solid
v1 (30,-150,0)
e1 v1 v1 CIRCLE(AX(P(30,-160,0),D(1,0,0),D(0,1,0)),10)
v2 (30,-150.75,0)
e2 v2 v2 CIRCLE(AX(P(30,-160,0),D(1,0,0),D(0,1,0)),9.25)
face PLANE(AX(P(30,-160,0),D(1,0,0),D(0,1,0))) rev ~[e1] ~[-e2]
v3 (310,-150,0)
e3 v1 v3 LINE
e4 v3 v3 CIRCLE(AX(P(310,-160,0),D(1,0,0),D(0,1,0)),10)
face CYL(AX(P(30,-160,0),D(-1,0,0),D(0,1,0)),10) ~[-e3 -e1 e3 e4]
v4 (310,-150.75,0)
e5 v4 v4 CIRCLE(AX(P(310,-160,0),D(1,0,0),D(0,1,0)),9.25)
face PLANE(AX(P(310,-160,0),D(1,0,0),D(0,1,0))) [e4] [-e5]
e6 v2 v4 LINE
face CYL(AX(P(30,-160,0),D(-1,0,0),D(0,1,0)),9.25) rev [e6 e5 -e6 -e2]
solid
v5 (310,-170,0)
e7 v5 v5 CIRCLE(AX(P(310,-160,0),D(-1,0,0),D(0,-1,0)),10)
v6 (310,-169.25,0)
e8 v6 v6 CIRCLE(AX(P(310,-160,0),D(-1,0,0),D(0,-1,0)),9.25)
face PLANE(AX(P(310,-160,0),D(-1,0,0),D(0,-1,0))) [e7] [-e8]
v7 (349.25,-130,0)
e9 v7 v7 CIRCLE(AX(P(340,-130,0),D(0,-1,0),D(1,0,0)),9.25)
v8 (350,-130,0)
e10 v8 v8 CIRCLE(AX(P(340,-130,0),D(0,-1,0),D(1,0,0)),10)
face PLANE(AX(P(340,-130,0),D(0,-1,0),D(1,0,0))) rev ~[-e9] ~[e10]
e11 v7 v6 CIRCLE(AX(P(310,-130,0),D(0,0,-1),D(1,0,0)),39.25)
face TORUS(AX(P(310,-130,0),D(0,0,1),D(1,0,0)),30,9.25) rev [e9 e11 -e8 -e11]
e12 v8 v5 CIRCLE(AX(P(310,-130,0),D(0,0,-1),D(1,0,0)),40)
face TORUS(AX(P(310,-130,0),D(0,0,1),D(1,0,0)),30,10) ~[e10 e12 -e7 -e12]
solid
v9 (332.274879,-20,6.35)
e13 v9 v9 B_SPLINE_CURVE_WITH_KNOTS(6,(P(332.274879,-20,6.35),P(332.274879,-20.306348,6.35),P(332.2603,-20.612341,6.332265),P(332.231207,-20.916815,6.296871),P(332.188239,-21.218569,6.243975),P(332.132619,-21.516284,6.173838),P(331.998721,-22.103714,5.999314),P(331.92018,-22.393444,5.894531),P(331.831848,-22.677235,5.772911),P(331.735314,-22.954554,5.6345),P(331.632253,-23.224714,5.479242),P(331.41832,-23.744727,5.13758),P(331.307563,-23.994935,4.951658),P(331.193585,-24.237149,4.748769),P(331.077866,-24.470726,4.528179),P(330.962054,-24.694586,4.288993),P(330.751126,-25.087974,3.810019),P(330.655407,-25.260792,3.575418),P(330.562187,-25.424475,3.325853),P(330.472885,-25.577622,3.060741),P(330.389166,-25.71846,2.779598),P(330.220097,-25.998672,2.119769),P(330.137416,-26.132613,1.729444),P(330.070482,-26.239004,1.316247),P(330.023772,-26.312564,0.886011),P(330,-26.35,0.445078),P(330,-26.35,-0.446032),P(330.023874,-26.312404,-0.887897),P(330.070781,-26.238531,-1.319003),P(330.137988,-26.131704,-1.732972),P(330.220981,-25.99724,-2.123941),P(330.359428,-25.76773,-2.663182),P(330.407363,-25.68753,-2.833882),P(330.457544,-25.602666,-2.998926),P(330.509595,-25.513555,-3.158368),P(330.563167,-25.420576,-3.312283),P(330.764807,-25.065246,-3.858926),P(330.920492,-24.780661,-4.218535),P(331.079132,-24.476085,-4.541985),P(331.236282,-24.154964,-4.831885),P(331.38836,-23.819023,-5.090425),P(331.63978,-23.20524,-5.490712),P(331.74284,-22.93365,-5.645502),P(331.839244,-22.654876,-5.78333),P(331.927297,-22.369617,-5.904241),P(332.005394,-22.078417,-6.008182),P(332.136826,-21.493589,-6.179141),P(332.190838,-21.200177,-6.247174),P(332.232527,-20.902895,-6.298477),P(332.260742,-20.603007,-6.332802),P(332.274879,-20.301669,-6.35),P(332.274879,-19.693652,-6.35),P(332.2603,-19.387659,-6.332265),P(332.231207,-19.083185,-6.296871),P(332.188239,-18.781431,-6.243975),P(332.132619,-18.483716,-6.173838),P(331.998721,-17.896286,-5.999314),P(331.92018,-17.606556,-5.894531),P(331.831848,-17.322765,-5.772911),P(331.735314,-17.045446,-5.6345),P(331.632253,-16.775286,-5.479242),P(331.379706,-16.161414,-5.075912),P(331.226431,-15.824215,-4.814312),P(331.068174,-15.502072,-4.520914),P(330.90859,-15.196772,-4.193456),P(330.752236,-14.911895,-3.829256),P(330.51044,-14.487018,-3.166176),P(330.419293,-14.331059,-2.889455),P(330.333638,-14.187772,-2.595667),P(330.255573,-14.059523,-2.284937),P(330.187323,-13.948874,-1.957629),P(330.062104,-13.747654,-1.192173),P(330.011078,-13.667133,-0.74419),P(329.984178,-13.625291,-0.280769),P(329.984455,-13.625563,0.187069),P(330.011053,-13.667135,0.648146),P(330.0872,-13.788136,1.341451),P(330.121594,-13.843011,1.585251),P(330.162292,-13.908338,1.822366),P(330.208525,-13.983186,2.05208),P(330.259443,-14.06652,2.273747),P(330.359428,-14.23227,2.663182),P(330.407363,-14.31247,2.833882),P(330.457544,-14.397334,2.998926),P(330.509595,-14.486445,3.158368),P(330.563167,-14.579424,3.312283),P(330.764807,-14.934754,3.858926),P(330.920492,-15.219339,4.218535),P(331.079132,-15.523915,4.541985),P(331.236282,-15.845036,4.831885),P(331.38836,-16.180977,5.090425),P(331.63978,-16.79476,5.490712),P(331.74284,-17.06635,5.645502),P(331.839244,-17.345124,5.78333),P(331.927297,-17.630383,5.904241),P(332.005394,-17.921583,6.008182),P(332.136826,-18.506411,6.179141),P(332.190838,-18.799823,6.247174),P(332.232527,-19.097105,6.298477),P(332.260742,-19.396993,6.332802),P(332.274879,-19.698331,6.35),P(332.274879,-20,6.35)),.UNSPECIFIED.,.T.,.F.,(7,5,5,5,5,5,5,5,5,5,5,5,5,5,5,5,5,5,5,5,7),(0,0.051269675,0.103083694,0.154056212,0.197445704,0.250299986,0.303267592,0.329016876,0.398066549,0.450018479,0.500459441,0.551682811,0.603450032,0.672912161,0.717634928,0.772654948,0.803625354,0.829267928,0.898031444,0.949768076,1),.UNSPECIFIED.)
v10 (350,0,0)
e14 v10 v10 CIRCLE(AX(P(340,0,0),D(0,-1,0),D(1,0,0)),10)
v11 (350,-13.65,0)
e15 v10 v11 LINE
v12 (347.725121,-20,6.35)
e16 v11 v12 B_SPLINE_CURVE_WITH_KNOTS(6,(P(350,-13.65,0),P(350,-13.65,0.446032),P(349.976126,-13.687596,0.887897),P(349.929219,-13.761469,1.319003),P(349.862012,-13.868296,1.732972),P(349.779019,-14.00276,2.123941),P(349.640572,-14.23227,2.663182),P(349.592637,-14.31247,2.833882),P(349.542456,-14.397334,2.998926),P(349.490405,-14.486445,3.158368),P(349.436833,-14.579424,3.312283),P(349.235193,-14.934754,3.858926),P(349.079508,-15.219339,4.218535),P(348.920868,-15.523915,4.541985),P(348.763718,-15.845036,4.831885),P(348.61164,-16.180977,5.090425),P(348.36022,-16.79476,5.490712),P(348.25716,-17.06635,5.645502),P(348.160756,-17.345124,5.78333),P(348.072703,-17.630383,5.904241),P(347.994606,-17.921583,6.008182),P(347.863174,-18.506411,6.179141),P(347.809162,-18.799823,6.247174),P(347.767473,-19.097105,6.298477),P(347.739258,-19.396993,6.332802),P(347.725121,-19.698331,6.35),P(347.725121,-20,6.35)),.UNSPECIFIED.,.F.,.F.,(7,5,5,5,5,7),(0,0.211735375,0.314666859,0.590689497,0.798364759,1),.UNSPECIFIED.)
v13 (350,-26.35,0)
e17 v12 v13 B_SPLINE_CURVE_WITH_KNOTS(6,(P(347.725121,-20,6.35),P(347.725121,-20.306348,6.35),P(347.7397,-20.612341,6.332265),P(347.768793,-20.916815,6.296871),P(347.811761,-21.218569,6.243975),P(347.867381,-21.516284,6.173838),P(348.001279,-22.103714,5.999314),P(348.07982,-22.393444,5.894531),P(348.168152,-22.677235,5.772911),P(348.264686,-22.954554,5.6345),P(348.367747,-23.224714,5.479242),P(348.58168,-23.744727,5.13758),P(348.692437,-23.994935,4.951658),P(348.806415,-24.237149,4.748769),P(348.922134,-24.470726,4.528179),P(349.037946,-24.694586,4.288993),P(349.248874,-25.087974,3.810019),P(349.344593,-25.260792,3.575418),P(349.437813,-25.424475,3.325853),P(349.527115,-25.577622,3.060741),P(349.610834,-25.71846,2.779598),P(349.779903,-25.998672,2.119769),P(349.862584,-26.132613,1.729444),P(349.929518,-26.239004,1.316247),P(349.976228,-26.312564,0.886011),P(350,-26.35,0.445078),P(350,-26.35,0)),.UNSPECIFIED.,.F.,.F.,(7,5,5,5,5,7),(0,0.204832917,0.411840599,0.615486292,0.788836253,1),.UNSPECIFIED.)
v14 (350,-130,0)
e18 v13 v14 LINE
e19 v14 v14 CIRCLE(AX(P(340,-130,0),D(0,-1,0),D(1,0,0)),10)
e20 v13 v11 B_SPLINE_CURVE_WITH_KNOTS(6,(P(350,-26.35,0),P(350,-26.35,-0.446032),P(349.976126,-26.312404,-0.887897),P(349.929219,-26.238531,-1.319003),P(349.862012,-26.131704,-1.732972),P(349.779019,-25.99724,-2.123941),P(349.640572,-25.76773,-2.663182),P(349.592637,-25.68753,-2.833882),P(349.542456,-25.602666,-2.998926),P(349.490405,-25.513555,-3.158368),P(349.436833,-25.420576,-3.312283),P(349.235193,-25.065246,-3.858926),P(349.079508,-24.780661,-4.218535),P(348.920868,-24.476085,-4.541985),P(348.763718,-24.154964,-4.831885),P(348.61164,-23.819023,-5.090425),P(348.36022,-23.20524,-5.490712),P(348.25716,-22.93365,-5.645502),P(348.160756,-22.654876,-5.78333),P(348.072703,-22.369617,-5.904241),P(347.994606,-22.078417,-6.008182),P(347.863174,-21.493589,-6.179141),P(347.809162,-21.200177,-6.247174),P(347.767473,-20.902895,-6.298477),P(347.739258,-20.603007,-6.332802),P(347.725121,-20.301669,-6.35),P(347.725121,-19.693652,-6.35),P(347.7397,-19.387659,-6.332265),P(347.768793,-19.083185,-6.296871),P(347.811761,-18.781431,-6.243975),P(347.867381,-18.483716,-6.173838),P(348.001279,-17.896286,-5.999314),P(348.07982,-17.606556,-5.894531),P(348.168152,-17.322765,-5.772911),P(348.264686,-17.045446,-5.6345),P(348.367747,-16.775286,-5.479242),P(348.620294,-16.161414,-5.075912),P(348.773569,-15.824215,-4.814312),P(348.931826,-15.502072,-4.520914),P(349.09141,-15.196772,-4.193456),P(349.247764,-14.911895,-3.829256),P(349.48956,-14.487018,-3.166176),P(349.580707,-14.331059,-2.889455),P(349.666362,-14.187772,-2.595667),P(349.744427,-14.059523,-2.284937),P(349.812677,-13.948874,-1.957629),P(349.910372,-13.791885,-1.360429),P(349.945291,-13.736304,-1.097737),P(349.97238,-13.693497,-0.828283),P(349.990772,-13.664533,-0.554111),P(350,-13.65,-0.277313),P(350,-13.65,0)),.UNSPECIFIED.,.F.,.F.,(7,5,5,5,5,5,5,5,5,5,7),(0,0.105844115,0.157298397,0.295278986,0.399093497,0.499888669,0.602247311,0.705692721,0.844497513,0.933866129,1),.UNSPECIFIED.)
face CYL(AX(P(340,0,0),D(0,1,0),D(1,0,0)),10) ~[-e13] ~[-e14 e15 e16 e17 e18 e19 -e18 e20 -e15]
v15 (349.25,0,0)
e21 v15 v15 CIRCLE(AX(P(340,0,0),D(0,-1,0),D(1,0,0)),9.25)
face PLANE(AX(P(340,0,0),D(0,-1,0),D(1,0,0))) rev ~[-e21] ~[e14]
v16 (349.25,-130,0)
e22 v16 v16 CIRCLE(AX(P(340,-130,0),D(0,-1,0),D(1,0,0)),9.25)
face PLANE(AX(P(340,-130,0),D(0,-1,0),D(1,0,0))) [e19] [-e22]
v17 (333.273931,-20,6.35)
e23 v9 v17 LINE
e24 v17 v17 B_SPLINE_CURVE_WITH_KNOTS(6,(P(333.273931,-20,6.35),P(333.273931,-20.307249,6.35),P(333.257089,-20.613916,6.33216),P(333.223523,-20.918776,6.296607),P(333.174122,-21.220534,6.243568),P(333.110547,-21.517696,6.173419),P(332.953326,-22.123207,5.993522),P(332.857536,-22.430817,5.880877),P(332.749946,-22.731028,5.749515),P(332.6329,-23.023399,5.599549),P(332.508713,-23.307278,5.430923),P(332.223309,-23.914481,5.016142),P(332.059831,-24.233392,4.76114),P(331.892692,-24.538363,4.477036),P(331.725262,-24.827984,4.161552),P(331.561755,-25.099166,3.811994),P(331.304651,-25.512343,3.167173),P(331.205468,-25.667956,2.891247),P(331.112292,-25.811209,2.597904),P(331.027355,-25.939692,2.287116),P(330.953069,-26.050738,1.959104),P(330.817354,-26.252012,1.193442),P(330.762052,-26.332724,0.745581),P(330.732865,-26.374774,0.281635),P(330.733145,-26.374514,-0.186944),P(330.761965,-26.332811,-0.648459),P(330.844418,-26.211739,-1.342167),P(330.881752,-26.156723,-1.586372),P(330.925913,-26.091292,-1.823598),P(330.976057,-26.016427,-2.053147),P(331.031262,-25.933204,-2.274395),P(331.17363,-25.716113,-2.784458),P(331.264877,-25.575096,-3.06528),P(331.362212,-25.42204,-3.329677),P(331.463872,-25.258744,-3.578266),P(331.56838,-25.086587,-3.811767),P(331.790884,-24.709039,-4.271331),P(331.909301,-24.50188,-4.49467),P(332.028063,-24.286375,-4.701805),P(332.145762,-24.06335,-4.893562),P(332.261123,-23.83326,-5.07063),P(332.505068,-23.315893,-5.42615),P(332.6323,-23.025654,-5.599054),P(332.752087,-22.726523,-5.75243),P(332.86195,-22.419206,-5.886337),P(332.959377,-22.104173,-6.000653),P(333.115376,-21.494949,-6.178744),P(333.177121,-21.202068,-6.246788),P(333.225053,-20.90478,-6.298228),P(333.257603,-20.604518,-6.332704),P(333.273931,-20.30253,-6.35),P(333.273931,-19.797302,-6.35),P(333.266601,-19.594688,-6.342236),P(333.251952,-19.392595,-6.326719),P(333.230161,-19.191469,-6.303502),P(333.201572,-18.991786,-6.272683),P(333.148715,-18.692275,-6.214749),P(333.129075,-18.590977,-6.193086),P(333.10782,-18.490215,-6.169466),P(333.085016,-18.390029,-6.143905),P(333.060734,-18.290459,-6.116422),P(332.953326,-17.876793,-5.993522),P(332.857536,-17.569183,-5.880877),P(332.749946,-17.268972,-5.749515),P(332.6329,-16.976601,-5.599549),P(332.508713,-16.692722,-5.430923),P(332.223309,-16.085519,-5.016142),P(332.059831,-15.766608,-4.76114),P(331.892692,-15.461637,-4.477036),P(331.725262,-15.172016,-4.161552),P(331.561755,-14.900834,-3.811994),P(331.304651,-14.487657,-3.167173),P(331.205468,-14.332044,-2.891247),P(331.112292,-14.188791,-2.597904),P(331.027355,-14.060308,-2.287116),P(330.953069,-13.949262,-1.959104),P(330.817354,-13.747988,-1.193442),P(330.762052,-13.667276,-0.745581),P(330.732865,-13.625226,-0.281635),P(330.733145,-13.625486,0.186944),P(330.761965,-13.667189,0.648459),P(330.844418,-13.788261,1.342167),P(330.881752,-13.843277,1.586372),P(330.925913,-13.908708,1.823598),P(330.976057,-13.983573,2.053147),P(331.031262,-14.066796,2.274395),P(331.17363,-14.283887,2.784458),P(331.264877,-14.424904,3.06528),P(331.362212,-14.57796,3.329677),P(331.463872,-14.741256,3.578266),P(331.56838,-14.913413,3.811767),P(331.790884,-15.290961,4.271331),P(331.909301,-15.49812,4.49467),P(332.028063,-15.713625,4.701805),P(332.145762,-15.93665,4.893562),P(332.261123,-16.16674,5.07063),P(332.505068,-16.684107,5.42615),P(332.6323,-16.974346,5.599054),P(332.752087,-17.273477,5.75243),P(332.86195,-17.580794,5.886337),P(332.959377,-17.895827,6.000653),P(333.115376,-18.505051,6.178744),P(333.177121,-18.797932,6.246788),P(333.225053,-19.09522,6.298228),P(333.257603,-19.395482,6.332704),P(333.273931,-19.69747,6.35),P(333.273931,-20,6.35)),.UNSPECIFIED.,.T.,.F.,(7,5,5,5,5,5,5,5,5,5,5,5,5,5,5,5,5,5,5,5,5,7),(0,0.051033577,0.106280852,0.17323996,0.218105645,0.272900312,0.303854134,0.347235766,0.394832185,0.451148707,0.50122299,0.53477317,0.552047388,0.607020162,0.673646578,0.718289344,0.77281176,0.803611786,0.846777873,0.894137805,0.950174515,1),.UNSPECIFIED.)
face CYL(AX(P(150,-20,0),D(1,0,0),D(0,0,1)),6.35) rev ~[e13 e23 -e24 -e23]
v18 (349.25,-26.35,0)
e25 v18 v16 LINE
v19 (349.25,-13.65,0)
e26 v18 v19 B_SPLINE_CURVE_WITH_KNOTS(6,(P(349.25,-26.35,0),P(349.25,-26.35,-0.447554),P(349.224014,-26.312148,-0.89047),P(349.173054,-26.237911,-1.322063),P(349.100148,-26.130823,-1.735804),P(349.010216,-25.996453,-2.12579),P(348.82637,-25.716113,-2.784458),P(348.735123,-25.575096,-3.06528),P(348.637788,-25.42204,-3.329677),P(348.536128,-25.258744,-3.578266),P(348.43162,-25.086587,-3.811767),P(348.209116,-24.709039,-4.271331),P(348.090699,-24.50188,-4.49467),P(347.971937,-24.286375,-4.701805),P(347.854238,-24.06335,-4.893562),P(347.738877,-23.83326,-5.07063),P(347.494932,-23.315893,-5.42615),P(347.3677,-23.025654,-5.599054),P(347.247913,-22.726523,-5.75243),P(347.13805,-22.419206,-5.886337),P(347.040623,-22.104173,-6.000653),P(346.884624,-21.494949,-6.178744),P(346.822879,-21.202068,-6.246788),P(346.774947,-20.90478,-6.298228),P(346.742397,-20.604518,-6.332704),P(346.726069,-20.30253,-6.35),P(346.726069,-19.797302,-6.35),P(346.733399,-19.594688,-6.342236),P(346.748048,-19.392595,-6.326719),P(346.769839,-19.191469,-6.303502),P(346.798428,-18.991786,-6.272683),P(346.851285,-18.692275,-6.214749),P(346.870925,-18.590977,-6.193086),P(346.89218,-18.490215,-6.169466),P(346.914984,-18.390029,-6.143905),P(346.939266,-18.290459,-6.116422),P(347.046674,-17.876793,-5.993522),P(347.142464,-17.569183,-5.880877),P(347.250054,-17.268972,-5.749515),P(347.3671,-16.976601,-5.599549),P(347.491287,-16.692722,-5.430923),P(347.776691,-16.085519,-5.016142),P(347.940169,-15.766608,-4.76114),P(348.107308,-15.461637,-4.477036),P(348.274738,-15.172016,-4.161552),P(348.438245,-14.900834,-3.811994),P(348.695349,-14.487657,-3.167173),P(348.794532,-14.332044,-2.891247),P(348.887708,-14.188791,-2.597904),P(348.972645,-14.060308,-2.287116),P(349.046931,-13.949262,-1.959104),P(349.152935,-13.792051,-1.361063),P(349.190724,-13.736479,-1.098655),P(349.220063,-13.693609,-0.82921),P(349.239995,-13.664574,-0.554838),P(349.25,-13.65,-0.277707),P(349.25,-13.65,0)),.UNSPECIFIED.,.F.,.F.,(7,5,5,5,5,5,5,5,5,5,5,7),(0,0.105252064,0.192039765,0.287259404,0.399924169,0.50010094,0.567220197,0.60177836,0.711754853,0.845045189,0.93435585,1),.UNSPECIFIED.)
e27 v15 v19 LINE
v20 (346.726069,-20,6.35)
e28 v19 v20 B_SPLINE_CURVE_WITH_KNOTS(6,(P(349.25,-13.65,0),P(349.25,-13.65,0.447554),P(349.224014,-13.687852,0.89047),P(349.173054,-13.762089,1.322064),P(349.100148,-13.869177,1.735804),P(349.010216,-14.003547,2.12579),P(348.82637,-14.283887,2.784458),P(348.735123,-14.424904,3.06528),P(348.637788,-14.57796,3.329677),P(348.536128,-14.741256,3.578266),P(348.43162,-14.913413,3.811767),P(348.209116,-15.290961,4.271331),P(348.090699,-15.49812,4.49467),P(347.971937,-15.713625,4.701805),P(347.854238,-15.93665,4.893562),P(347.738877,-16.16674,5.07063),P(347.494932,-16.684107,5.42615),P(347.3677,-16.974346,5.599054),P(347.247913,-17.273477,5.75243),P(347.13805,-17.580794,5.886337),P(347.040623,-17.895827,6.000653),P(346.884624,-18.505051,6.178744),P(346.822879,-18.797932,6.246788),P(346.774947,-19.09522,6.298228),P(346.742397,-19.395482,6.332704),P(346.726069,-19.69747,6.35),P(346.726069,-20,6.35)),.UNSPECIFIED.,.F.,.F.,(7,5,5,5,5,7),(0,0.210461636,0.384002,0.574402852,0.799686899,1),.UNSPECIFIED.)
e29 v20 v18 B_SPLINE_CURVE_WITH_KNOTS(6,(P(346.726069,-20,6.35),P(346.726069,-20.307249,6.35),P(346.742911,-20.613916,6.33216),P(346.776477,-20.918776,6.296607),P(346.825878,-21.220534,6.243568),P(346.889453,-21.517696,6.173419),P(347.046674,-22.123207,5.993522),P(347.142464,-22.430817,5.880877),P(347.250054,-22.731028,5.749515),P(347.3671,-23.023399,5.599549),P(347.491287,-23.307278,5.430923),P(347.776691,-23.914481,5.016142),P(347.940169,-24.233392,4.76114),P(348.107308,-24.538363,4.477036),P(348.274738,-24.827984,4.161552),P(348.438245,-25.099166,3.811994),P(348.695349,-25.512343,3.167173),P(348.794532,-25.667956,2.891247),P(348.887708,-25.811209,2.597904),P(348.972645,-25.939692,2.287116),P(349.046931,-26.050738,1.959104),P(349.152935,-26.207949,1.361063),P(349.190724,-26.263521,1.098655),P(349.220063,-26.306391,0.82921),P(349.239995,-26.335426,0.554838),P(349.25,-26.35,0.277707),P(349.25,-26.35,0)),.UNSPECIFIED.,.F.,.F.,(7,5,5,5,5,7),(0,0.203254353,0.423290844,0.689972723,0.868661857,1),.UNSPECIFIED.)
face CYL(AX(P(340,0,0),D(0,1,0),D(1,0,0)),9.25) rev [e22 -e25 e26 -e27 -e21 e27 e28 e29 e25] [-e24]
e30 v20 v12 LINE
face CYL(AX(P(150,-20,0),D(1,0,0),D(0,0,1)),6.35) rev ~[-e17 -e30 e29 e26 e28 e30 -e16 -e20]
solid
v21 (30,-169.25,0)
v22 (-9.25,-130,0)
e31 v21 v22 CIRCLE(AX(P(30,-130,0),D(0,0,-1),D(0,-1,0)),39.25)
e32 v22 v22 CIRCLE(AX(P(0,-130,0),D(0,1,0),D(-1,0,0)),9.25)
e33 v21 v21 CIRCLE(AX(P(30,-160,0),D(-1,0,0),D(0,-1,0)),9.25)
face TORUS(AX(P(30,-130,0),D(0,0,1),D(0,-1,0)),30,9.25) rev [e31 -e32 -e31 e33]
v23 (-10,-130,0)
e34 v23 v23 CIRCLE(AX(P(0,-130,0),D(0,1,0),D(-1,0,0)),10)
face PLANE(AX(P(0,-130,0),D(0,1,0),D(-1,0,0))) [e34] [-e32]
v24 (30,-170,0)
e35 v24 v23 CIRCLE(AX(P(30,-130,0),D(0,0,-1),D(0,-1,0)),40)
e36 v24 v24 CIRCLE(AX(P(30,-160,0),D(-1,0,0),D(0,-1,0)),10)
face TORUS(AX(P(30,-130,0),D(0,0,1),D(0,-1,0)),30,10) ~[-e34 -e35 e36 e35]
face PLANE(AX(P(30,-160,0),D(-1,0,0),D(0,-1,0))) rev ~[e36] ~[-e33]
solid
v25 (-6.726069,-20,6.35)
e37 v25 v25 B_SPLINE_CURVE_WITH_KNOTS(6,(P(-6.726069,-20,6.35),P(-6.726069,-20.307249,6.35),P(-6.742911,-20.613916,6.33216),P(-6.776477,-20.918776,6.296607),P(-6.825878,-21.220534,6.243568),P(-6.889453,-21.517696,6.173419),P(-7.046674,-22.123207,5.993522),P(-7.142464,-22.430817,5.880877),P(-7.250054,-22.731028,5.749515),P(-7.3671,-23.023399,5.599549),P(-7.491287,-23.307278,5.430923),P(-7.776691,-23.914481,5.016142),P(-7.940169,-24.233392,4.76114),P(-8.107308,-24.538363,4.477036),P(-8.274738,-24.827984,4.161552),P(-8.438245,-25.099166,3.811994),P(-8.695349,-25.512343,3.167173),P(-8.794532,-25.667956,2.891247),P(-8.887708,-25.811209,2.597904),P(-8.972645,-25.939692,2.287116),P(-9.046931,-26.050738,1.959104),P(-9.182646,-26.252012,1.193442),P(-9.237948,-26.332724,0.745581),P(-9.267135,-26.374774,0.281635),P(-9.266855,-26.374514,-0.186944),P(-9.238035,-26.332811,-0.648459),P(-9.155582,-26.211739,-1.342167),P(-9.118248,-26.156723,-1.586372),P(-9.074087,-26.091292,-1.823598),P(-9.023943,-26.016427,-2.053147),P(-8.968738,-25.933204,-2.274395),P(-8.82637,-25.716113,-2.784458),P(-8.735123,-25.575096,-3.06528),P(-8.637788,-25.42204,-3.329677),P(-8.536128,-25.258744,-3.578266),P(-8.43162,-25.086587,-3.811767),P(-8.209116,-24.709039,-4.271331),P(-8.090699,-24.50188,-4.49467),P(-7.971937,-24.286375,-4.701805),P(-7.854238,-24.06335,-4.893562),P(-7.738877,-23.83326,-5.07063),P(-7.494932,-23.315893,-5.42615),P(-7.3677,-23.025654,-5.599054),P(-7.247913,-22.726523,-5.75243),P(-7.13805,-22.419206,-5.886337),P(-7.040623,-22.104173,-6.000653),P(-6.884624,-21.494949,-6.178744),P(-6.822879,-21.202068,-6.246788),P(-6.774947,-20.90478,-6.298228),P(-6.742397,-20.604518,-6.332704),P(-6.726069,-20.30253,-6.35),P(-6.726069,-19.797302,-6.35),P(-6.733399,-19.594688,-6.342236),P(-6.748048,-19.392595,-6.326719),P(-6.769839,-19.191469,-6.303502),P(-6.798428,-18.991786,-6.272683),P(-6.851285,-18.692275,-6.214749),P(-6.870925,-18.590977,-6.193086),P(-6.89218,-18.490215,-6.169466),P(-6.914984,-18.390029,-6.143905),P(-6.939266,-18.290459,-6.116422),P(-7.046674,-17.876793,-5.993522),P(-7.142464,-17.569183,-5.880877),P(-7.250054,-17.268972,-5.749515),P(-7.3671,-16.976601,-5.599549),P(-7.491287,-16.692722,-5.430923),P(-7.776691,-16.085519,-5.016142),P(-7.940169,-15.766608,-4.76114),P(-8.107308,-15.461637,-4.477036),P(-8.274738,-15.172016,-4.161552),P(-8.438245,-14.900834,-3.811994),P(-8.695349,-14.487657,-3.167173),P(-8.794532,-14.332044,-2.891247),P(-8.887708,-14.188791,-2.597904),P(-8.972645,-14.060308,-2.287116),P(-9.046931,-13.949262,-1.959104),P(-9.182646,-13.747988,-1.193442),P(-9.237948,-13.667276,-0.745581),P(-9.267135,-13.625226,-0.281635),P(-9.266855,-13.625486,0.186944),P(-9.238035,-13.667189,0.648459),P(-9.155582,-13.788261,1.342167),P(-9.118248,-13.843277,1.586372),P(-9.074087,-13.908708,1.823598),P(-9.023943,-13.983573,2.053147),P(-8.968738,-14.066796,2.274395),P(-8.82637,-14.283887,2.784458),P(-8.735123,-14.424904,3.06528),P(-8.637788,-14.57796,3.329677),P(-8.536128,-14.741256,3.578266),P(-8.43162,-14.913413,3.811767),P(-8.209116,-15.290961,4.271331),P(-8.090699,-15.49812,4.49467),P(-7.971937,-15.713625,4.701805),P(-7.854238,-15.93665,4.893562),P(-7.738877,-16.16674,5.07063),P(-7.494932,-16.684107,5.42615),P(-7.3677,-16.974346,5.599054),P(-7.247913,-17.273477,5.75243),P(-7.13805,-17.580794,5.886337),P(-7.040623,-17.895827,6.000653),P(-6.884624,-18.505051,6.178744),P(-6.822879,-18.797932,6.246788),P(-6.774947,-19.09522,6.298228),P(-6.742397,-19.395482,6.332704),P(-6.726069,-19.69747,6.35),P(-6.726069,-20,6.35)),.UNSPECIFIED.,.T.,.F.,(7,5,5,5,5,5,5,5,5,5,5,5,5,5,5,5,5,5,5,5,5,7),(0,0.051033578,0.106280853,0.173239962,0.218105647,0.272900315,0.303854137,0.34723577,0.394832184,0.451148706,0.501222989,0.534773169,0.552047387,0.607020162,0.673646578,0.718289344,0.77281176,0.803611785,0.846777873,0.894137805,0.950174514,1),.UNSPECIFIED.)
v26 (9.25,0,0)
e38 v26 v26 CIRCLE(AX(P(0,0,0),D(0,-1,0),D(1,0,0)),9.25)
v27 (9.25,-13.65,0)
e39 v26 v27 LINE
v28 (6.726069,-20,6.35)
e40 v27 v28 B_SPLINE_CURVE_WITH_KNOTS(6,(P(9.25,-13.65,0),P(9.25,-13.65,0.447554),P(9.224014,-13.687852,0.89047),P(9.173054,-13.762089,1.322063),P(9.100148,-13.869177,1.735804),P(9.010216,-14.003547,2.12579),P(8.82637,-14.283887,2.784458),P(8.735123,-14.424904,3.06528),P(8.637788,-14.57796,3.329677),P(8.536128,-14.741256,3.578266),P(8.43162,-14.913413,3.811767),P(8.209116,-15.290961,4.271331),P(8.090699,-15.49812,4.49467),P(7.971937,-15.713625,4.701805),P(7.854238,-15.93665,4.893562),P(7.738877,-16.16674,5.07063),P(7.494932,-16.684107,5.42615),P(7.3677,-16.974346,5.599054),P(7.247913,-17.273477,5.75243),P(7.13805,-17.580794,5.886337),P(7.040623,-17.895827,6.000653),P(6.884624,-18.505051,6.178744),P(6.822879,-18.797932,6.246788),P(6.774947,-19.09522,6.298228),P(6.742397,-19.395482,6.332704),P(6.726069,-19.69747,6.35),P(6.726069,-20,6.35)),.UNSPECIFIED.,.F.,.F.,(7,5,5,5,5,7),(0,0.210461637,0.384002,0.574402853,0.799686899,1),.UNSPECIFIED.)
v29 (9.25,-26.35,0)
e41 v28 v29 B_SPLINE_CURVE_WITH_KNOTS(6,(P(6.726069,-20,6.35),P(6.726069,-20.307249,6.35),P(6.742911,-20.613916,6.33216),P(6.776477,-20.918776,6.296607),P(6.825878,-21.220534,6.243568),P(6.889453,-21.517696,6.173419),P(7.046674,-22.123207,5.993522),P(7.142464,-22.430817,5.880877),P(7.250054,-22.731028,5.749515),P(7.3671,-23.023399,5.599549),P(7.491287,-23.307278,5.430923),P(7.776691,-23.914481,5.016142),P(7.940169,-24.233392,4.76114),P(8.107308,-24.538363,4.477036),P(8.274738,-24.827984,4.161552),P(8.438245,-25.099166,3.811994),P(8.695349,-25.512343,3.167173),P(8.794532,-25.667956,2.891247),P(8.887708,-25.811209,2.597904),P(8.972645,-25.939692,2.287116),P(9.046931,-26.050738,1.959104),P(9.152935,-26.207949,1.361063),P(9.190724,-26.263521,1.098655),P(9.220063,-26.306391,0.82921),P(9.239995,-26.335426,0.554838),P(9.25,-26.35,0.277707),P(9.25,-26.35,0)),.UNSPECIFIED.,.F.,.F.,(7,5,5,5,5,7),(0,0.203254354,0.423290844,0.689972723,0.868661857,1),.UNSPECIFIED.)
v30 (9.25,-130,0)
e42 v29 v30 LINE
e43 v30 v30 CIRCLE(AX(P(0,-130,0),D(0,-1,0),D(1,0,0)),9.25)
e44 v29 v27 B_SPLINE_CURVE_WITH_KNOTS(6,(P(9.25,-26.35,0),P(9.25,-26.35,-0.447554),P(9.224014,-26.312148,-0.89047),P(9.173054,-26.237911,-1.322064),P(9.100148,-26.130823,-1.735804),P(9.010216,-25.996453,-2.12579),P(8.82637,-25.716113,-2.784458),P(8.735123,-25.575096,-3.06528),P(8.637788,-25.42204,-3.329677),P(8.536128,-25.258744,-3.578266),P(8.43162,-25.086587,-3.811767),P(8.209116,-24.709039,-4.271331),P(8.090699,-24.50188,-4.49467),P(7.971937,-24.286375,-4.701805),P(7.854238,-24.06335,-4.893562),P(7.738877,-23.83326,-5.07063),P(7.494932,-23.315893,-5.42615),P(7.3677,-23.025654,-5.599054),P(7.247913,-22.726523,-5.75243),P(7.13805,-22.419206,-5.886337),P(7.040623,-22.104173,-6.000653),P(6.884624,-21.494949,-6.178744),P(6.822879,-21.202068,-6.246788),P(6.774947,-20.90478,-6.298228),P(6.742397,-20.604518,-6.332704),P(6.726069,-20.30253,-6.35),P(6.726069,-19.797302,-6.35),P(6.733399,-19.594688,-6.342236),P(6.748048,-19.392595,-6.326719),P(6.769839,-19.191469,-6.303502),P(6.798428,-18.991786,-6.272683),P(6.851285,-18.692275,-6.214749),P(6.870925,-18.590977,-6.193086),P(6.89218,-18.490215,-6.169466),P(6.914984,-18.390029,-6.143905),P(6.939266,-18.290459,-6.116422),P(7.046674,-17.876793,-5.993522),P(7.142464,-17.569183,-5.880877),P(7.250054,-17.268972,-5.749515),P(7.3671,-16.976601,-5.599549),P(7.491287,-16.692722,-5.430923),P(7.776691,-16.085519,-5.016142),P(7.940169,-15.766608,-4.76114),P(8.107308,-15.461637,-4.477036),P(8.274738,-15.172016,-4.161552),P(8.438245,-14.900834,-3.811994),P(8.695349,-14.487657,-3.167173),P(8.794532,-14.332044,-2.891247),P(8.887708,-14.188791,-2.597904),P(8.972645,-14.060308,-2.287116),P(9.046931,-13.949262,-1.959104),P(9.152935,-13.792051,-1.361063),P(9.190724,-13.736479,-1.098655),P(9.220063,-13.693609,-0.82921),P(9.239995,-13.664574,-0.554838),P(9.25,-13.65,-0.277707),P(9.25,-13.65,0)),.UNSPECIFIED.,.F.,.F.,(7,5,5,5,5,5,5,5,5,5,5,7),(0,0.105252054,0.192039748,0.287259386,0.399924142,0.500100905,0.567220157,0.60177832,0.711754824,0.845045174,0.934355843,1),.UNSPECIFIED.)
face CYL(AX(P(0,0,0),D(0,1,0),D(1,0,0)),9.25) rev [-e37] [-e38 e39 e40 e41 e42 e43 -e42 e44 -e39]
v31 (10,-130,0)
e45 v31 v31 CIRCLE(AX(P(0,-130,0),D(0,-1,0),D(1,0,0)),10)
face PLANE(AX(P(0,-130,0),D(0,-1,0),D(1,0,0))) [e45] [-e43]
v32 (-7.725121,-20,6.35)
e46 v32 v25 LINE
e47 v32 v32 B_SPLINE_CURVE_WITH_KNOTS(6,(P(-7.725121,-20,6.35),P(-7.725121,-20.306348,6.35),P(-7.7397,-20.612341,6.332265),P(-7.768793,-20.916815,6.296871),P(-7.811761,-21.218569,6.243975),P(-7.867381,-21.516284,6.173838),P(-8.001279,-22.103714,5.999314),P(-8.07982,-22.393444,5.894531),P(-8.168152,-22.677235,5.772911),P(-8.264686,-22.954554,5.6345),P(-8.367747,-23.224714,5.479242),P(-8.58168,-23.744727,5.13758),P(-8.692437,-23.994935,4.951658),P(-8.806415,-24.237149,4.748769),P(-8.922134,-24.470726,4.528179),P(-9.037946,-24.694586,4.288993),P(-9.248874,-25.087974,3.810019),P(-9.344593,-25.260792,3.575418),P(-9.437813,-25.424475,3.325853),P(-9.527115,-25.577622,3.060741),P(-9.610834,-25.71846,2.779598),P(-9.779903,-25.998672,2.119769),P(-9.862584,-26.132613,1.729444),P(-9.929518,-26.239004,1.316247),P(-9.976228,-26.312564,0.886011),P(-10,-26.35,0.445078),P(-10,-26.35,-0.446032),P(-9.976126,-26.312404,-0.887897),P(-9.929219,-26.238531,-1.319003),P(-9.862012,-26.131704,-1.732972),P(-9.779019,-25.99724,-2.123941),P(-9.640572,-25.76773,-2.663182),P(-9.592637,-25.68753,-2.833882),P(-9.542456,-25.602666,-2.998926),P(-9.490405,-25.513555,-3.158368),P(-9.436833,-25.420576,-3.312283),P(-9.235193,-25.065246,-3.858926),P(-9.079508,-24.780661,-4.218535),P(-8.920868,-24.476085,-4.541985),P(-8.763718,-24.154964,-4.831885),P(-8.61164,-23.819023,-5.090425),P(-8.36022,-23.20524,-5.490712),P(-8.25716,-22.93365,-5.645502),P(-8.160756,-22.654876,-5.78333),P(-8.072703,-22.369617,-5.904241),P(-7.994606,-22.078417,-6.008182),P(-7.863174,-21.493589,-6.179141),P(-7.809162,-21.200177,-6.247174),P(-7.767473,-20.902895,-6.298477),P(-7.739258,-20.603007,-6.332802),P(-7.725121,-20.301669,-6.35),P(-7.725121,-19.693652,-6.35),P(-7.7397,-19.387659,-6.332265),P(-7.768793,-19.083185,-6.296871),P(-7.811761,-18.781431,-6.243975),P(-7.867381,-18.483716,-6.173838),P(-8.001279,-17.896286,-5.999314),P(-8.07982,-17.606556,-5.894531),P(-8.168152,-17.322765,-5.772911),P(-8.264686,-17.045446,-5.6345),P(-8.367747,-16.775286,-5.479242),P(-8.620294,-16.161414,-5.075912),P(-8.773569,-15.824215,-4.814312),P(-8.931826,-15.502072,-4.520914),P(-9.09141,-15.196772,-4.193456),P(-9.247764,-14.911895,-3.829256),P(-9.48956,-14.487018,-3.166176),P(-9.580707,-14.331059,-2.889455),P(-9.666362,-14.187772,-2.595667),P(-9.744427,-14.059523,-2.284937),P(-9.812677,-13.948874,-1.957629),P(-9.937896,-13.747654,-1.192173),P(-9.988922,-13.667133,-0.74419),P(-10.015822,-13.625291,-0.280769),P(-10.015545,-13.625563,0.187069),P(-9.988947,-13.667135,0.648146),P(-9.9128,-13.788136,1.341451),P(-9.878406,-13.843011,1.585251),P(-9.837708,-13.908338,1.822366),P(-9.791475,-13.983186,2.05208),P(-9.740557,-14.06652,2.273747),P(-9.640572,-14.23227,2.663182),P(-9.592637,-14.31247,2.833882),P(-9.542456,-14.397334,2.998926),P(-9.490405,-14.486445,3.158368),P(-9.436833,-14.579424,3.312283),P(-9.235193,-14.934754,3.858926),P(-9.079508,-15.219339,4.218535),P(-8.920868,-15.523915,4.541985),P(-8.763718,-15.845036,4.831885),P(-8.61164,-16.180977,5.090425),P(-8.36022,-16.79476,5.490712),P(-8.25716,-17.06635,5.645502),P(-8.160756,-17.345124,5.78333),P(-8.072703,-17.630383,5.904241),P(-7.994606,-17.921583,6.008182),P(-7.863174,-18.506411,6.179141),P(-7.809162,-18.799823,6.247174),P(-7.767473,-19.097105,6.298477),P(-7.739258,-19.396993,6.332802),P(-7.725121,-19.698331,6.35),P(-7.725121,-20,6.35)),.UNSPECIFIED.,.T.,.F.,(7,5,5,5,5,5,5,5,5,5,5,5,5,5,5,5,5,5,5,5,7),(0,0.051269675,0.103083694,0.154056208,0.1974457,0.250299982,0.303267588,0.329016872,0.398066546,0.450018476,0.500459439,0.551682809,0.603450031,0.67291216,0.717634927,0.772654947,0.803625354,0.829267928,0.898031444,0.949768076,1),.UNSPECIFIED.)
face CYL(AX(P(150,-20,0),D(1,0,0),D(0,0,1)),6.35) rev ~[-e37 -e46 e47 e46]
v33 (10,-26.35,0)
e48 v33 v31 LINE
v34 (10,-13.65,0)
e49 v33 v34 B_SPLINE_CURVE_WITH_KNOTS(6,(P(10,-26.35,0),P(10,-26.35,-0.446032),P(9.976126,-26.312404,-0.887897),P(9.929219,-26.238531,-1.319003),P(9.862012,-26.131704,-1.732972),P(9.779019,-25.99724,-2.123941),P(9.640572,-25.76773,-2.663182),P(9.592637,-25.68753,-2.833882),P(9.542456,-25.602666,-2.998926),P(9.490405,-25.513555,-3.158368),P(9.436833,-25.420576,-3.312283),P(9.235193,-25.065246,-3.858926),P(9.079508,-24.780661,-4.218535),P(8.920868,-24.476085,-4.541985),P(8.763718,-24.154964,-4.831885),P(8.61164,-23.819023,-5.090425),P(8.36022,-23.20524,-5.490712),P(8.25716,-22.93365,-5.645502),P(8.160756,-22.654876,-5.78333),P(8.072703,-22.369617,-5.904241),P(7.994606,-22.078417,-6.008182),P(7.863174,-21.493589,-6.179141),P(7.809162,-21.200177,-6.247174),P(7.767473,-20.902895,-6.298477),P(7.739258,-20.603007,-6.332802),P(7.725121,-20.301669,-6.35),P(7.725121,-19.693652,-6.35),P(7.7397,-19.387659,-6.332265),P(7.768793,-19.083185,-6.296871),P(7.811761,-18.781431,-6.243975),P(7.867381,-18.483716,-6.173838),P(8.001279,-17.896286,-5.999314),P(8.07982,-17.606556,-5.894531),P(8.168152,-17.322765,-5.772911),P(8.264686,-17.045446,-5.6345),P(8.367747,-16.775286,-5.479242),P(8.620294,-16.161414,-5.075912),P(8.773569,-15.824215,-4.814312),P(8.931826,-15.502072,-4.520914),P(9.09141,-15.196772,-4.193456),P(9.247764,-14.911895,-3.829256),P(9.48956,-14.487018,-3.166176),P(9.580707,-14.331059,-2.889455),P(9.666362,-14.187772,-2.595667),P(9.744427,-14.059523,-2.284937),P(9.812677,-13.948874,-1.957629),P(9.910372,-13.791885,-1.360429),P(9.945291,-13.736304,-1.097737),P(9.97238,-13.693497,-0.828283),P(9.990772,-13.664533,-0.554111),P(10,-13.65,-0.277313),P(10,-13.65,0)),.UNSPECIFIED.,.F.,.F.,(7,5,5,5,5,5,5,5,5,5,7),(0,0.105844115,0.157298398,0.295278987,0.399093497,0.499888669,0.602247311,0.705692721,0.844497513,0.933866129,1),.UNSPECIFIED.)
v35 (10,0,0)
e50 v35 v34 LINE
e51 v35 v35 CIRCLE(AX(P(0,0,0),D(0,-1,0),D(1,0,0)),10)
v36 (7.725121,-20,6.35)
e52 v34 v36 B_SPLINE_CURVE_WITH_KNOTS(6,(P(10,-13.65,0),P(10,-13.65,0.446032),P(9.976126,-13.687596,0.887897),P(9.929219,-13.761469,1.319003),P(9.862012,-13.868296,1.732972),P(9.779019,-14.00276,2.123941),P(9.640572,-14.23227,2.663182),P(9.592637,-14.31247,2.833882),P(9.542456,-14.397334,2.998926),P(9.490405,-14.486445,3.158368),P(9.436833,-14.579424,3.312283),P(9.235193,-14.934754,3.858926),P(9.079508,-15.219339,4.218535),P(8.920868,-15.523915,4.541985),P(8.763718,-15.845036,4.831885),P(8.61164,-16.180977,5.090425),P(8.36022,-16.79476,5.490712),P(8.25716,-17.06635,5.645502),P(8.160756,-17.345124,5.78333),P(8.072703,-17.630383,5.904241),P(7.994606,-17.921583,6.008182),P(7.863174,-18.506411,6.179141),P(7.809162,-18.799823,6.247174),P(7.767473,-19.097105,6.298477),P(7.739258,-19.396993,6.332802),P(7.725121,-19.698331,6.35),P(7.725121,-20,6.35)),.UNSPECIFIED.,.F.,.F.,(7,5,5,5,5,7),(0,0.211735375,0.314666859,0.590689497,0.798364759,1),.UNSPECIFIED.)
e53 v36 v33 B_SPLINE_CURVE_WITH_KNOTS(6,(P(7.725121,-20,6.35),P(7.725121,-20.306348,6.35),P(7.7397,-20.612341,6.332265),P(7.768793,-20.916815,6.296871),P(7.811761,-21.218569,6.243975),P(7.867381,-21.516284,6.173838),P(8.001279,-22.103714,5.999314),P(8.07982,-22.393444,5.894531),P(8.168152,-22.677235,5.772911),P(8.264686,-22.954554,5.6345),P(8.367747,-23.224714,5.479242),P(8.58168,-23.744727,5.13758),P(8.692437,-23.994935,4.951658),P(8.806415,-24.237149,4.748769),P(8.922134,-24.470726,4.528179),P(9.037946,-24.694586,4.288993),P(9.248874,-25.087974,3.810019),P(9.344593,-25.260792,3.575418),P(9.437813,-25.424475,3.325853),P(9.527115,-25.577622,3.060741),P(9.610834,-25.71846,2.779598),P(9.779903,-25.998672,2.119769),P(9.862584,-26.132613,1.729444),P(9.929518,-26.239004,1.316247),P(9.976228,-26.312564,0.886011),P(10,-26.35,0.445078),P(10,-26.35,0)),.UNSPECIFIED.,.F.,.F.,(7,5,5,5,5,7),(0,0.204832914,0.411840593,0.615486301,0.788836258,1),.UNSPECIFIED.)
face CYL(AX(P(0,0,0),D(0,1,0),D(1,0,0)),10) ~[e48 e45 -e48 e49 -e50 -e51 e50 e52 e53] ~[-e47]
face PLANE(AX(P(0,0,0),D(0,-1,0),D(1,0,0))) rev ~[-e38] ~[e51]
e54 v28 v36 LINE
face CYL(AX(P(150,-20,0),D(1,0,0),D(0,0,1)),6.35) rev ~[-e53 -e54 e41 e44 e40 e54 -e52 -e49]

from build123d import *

# Parameters (mm, degrees)
SKETCH1_R                        = 10
SKETCH1_R_2                      = 9.25
ROUND_TUBE_DO20_DI18_5_1_DEPTH   = 130
SKETCH1_ON_SEGMENT_2_R           = 10
SKETCH1_ON_SEGMENT_2_R_2         = 9.25
ROUND_TUBE_DO20_DI18_5_1_2_ANGLE = 90
SKETCH1_ON_SEGMENT_3_R           = 10
SKETCH1_ON_SEGMENT_3_R_2         = 9.25
ROUND_TUBE_DO20_DI18_5_1_3_DEPTH = 280
SKETCH1_ON_SEGMENT_4_R           = 10
SKETCH1_ON_SEGMENT_4_R_2         = 9.25
ROUND_TUBE_DO20_DI18_5_1_4_ANGLE = 90
SKETCH1_ON_SEGMENT_5_R           = 10
SKETCH1_ON_SEGMENT_5_R_2         = 9.25
ROUND_TUBE_DO20_DI18_5_1_5_DEPTH = 130
SKETCH11_W                       = 6.35
SKETCH11_H                       = 400


with BuildPart() as part:
    # Sketch1 → Round_tube DO20_DI18_5(1) (new body)
    with BuildSketch(Plane.XZ):
        Circle(SKETCH1_R)
        Circle(SKETCH1_R_2, mode=Mode.SUBTRACT)
    extrude(amount=ROUND_TUBE_DO20_DI18_5_1_DEPTH)


with BuildPart() as body_2:
    # Sketch1 on segment 2 (carried to the start of arc 2) → Round_tube DO20_DI18_5_1 2 (revolve)
    with BuildSketch(Plane(origin=(30, -160, 0), x_dir=(0, -1, 0), z_dir=(-1, 0, 0))):
        Circle(SKETCH1_ON_SEGMENT_2_R)
        Circle(SKETCH1_ON_SEGMENT_2_R_2, mode=Mode.SUBTRACT)
    revolve(axis=Axis((30, -130, 0), (0, 0, -1)), revolution_arc=ROUND_TUBE_DO20_DI18_5_1_2_ANGLE)


with BuildPart() as body_3:
    # Sketch1 on segment 3 (carried to segment 3) → Round_tube DO20_DI18_5_1 3 (new body)
    with BuildSketch(Plane(origin=(30, -160, 0), x_dir=(0, 1, 0), z_dir=(1, 0, 0))):
        Circle(SKETCH1_ON_SEGMENT_3_R)
        Circle(SKETCH1_ON_SEGMENT_3_R_2, mode=Mode.SUBTRACT)
    extrude(amount=ROUND_TUBE_DO20_DI18_5_1_3_DEPTH)


with BuildPart() as body_4:
    # Sketch1 on segment 4 (carried to the start of arc 4) → Round_tube DO20_DI18_5_1 4 (revolve)
    with BuildSketch(Plane(origin=(340, -130, 0), x_dir=(1, 0, 0), z_dir=(0, -1, 0))):
        Circle(SKETCH1_ON_SEGMENT_4_R)
        Circle(SKETCH1_ON_SEGMENT_4_R_2, mode=Mode.SUBTRACT)
    revolve(axis=Axis((310, -130, 0), (0, 0, -1)), revolution_arc=ROUND_TUBE_DO20_DI18_5_1_4_ANGLE)


with BuildPart() as body_5:
    # Sketch1 on segment 5 (carried to segment 5) → Round_tube DO20_DI18_5_1 5 (new body)
    with BuildSketch(Plane(origin=(340, 0, 0), x_dir=(1, 0, 0), z_dir=(0, -1, 0))):
        Circle(SKETCH1_ON_SEGMENT_5_R)
        Circle(SKETCH1_ON_SEGMENT_5_R_2, mode=Mode.SUBTRACT)
    extrude(amount=ROUND_TUBE_DO20_DI18_5_1_5_DEPTH)


with BuildPart() as f_12_0mm_dowel_hole2_tool:
    # Sketch11 → Ø12.0mm Dowel Hole2 (revolve)
    with BuildSketch(Plane(origin=(-50, -20, 0), x_dir=(0, 0, 1), z_dir=(0, 1, 0))):
        with Locations((3.175, 200)):
            Rectangle(SKETCH11_W, SKETCH11_H)
    revolve(axis=Axis((-56.35, -20, 0), (1, 0, 0)))


with BuildPart() as part_1:
    add(part.part)

    # Ø12.0mm Dowel Hole2: cut by f_12_0mm_dowel_hole2_tool
    add(f_12_0mm_dowel_hole2_tool.part, mode=Mode.SUBTRACT)


with BuildPart() as body_5_1:
    add(body_5.part)

    # Ø12.0mm Dowel Hole2: cut by f_12_0mm_dowel_hole2_tool
    add(f_12_0mm_dowel_hole2_tool.part, mode=Mode.SUBTRACT)


solid = Compound([body_2.part, body_3.part, body_4.part, part_1.part, body_5_1.part])
